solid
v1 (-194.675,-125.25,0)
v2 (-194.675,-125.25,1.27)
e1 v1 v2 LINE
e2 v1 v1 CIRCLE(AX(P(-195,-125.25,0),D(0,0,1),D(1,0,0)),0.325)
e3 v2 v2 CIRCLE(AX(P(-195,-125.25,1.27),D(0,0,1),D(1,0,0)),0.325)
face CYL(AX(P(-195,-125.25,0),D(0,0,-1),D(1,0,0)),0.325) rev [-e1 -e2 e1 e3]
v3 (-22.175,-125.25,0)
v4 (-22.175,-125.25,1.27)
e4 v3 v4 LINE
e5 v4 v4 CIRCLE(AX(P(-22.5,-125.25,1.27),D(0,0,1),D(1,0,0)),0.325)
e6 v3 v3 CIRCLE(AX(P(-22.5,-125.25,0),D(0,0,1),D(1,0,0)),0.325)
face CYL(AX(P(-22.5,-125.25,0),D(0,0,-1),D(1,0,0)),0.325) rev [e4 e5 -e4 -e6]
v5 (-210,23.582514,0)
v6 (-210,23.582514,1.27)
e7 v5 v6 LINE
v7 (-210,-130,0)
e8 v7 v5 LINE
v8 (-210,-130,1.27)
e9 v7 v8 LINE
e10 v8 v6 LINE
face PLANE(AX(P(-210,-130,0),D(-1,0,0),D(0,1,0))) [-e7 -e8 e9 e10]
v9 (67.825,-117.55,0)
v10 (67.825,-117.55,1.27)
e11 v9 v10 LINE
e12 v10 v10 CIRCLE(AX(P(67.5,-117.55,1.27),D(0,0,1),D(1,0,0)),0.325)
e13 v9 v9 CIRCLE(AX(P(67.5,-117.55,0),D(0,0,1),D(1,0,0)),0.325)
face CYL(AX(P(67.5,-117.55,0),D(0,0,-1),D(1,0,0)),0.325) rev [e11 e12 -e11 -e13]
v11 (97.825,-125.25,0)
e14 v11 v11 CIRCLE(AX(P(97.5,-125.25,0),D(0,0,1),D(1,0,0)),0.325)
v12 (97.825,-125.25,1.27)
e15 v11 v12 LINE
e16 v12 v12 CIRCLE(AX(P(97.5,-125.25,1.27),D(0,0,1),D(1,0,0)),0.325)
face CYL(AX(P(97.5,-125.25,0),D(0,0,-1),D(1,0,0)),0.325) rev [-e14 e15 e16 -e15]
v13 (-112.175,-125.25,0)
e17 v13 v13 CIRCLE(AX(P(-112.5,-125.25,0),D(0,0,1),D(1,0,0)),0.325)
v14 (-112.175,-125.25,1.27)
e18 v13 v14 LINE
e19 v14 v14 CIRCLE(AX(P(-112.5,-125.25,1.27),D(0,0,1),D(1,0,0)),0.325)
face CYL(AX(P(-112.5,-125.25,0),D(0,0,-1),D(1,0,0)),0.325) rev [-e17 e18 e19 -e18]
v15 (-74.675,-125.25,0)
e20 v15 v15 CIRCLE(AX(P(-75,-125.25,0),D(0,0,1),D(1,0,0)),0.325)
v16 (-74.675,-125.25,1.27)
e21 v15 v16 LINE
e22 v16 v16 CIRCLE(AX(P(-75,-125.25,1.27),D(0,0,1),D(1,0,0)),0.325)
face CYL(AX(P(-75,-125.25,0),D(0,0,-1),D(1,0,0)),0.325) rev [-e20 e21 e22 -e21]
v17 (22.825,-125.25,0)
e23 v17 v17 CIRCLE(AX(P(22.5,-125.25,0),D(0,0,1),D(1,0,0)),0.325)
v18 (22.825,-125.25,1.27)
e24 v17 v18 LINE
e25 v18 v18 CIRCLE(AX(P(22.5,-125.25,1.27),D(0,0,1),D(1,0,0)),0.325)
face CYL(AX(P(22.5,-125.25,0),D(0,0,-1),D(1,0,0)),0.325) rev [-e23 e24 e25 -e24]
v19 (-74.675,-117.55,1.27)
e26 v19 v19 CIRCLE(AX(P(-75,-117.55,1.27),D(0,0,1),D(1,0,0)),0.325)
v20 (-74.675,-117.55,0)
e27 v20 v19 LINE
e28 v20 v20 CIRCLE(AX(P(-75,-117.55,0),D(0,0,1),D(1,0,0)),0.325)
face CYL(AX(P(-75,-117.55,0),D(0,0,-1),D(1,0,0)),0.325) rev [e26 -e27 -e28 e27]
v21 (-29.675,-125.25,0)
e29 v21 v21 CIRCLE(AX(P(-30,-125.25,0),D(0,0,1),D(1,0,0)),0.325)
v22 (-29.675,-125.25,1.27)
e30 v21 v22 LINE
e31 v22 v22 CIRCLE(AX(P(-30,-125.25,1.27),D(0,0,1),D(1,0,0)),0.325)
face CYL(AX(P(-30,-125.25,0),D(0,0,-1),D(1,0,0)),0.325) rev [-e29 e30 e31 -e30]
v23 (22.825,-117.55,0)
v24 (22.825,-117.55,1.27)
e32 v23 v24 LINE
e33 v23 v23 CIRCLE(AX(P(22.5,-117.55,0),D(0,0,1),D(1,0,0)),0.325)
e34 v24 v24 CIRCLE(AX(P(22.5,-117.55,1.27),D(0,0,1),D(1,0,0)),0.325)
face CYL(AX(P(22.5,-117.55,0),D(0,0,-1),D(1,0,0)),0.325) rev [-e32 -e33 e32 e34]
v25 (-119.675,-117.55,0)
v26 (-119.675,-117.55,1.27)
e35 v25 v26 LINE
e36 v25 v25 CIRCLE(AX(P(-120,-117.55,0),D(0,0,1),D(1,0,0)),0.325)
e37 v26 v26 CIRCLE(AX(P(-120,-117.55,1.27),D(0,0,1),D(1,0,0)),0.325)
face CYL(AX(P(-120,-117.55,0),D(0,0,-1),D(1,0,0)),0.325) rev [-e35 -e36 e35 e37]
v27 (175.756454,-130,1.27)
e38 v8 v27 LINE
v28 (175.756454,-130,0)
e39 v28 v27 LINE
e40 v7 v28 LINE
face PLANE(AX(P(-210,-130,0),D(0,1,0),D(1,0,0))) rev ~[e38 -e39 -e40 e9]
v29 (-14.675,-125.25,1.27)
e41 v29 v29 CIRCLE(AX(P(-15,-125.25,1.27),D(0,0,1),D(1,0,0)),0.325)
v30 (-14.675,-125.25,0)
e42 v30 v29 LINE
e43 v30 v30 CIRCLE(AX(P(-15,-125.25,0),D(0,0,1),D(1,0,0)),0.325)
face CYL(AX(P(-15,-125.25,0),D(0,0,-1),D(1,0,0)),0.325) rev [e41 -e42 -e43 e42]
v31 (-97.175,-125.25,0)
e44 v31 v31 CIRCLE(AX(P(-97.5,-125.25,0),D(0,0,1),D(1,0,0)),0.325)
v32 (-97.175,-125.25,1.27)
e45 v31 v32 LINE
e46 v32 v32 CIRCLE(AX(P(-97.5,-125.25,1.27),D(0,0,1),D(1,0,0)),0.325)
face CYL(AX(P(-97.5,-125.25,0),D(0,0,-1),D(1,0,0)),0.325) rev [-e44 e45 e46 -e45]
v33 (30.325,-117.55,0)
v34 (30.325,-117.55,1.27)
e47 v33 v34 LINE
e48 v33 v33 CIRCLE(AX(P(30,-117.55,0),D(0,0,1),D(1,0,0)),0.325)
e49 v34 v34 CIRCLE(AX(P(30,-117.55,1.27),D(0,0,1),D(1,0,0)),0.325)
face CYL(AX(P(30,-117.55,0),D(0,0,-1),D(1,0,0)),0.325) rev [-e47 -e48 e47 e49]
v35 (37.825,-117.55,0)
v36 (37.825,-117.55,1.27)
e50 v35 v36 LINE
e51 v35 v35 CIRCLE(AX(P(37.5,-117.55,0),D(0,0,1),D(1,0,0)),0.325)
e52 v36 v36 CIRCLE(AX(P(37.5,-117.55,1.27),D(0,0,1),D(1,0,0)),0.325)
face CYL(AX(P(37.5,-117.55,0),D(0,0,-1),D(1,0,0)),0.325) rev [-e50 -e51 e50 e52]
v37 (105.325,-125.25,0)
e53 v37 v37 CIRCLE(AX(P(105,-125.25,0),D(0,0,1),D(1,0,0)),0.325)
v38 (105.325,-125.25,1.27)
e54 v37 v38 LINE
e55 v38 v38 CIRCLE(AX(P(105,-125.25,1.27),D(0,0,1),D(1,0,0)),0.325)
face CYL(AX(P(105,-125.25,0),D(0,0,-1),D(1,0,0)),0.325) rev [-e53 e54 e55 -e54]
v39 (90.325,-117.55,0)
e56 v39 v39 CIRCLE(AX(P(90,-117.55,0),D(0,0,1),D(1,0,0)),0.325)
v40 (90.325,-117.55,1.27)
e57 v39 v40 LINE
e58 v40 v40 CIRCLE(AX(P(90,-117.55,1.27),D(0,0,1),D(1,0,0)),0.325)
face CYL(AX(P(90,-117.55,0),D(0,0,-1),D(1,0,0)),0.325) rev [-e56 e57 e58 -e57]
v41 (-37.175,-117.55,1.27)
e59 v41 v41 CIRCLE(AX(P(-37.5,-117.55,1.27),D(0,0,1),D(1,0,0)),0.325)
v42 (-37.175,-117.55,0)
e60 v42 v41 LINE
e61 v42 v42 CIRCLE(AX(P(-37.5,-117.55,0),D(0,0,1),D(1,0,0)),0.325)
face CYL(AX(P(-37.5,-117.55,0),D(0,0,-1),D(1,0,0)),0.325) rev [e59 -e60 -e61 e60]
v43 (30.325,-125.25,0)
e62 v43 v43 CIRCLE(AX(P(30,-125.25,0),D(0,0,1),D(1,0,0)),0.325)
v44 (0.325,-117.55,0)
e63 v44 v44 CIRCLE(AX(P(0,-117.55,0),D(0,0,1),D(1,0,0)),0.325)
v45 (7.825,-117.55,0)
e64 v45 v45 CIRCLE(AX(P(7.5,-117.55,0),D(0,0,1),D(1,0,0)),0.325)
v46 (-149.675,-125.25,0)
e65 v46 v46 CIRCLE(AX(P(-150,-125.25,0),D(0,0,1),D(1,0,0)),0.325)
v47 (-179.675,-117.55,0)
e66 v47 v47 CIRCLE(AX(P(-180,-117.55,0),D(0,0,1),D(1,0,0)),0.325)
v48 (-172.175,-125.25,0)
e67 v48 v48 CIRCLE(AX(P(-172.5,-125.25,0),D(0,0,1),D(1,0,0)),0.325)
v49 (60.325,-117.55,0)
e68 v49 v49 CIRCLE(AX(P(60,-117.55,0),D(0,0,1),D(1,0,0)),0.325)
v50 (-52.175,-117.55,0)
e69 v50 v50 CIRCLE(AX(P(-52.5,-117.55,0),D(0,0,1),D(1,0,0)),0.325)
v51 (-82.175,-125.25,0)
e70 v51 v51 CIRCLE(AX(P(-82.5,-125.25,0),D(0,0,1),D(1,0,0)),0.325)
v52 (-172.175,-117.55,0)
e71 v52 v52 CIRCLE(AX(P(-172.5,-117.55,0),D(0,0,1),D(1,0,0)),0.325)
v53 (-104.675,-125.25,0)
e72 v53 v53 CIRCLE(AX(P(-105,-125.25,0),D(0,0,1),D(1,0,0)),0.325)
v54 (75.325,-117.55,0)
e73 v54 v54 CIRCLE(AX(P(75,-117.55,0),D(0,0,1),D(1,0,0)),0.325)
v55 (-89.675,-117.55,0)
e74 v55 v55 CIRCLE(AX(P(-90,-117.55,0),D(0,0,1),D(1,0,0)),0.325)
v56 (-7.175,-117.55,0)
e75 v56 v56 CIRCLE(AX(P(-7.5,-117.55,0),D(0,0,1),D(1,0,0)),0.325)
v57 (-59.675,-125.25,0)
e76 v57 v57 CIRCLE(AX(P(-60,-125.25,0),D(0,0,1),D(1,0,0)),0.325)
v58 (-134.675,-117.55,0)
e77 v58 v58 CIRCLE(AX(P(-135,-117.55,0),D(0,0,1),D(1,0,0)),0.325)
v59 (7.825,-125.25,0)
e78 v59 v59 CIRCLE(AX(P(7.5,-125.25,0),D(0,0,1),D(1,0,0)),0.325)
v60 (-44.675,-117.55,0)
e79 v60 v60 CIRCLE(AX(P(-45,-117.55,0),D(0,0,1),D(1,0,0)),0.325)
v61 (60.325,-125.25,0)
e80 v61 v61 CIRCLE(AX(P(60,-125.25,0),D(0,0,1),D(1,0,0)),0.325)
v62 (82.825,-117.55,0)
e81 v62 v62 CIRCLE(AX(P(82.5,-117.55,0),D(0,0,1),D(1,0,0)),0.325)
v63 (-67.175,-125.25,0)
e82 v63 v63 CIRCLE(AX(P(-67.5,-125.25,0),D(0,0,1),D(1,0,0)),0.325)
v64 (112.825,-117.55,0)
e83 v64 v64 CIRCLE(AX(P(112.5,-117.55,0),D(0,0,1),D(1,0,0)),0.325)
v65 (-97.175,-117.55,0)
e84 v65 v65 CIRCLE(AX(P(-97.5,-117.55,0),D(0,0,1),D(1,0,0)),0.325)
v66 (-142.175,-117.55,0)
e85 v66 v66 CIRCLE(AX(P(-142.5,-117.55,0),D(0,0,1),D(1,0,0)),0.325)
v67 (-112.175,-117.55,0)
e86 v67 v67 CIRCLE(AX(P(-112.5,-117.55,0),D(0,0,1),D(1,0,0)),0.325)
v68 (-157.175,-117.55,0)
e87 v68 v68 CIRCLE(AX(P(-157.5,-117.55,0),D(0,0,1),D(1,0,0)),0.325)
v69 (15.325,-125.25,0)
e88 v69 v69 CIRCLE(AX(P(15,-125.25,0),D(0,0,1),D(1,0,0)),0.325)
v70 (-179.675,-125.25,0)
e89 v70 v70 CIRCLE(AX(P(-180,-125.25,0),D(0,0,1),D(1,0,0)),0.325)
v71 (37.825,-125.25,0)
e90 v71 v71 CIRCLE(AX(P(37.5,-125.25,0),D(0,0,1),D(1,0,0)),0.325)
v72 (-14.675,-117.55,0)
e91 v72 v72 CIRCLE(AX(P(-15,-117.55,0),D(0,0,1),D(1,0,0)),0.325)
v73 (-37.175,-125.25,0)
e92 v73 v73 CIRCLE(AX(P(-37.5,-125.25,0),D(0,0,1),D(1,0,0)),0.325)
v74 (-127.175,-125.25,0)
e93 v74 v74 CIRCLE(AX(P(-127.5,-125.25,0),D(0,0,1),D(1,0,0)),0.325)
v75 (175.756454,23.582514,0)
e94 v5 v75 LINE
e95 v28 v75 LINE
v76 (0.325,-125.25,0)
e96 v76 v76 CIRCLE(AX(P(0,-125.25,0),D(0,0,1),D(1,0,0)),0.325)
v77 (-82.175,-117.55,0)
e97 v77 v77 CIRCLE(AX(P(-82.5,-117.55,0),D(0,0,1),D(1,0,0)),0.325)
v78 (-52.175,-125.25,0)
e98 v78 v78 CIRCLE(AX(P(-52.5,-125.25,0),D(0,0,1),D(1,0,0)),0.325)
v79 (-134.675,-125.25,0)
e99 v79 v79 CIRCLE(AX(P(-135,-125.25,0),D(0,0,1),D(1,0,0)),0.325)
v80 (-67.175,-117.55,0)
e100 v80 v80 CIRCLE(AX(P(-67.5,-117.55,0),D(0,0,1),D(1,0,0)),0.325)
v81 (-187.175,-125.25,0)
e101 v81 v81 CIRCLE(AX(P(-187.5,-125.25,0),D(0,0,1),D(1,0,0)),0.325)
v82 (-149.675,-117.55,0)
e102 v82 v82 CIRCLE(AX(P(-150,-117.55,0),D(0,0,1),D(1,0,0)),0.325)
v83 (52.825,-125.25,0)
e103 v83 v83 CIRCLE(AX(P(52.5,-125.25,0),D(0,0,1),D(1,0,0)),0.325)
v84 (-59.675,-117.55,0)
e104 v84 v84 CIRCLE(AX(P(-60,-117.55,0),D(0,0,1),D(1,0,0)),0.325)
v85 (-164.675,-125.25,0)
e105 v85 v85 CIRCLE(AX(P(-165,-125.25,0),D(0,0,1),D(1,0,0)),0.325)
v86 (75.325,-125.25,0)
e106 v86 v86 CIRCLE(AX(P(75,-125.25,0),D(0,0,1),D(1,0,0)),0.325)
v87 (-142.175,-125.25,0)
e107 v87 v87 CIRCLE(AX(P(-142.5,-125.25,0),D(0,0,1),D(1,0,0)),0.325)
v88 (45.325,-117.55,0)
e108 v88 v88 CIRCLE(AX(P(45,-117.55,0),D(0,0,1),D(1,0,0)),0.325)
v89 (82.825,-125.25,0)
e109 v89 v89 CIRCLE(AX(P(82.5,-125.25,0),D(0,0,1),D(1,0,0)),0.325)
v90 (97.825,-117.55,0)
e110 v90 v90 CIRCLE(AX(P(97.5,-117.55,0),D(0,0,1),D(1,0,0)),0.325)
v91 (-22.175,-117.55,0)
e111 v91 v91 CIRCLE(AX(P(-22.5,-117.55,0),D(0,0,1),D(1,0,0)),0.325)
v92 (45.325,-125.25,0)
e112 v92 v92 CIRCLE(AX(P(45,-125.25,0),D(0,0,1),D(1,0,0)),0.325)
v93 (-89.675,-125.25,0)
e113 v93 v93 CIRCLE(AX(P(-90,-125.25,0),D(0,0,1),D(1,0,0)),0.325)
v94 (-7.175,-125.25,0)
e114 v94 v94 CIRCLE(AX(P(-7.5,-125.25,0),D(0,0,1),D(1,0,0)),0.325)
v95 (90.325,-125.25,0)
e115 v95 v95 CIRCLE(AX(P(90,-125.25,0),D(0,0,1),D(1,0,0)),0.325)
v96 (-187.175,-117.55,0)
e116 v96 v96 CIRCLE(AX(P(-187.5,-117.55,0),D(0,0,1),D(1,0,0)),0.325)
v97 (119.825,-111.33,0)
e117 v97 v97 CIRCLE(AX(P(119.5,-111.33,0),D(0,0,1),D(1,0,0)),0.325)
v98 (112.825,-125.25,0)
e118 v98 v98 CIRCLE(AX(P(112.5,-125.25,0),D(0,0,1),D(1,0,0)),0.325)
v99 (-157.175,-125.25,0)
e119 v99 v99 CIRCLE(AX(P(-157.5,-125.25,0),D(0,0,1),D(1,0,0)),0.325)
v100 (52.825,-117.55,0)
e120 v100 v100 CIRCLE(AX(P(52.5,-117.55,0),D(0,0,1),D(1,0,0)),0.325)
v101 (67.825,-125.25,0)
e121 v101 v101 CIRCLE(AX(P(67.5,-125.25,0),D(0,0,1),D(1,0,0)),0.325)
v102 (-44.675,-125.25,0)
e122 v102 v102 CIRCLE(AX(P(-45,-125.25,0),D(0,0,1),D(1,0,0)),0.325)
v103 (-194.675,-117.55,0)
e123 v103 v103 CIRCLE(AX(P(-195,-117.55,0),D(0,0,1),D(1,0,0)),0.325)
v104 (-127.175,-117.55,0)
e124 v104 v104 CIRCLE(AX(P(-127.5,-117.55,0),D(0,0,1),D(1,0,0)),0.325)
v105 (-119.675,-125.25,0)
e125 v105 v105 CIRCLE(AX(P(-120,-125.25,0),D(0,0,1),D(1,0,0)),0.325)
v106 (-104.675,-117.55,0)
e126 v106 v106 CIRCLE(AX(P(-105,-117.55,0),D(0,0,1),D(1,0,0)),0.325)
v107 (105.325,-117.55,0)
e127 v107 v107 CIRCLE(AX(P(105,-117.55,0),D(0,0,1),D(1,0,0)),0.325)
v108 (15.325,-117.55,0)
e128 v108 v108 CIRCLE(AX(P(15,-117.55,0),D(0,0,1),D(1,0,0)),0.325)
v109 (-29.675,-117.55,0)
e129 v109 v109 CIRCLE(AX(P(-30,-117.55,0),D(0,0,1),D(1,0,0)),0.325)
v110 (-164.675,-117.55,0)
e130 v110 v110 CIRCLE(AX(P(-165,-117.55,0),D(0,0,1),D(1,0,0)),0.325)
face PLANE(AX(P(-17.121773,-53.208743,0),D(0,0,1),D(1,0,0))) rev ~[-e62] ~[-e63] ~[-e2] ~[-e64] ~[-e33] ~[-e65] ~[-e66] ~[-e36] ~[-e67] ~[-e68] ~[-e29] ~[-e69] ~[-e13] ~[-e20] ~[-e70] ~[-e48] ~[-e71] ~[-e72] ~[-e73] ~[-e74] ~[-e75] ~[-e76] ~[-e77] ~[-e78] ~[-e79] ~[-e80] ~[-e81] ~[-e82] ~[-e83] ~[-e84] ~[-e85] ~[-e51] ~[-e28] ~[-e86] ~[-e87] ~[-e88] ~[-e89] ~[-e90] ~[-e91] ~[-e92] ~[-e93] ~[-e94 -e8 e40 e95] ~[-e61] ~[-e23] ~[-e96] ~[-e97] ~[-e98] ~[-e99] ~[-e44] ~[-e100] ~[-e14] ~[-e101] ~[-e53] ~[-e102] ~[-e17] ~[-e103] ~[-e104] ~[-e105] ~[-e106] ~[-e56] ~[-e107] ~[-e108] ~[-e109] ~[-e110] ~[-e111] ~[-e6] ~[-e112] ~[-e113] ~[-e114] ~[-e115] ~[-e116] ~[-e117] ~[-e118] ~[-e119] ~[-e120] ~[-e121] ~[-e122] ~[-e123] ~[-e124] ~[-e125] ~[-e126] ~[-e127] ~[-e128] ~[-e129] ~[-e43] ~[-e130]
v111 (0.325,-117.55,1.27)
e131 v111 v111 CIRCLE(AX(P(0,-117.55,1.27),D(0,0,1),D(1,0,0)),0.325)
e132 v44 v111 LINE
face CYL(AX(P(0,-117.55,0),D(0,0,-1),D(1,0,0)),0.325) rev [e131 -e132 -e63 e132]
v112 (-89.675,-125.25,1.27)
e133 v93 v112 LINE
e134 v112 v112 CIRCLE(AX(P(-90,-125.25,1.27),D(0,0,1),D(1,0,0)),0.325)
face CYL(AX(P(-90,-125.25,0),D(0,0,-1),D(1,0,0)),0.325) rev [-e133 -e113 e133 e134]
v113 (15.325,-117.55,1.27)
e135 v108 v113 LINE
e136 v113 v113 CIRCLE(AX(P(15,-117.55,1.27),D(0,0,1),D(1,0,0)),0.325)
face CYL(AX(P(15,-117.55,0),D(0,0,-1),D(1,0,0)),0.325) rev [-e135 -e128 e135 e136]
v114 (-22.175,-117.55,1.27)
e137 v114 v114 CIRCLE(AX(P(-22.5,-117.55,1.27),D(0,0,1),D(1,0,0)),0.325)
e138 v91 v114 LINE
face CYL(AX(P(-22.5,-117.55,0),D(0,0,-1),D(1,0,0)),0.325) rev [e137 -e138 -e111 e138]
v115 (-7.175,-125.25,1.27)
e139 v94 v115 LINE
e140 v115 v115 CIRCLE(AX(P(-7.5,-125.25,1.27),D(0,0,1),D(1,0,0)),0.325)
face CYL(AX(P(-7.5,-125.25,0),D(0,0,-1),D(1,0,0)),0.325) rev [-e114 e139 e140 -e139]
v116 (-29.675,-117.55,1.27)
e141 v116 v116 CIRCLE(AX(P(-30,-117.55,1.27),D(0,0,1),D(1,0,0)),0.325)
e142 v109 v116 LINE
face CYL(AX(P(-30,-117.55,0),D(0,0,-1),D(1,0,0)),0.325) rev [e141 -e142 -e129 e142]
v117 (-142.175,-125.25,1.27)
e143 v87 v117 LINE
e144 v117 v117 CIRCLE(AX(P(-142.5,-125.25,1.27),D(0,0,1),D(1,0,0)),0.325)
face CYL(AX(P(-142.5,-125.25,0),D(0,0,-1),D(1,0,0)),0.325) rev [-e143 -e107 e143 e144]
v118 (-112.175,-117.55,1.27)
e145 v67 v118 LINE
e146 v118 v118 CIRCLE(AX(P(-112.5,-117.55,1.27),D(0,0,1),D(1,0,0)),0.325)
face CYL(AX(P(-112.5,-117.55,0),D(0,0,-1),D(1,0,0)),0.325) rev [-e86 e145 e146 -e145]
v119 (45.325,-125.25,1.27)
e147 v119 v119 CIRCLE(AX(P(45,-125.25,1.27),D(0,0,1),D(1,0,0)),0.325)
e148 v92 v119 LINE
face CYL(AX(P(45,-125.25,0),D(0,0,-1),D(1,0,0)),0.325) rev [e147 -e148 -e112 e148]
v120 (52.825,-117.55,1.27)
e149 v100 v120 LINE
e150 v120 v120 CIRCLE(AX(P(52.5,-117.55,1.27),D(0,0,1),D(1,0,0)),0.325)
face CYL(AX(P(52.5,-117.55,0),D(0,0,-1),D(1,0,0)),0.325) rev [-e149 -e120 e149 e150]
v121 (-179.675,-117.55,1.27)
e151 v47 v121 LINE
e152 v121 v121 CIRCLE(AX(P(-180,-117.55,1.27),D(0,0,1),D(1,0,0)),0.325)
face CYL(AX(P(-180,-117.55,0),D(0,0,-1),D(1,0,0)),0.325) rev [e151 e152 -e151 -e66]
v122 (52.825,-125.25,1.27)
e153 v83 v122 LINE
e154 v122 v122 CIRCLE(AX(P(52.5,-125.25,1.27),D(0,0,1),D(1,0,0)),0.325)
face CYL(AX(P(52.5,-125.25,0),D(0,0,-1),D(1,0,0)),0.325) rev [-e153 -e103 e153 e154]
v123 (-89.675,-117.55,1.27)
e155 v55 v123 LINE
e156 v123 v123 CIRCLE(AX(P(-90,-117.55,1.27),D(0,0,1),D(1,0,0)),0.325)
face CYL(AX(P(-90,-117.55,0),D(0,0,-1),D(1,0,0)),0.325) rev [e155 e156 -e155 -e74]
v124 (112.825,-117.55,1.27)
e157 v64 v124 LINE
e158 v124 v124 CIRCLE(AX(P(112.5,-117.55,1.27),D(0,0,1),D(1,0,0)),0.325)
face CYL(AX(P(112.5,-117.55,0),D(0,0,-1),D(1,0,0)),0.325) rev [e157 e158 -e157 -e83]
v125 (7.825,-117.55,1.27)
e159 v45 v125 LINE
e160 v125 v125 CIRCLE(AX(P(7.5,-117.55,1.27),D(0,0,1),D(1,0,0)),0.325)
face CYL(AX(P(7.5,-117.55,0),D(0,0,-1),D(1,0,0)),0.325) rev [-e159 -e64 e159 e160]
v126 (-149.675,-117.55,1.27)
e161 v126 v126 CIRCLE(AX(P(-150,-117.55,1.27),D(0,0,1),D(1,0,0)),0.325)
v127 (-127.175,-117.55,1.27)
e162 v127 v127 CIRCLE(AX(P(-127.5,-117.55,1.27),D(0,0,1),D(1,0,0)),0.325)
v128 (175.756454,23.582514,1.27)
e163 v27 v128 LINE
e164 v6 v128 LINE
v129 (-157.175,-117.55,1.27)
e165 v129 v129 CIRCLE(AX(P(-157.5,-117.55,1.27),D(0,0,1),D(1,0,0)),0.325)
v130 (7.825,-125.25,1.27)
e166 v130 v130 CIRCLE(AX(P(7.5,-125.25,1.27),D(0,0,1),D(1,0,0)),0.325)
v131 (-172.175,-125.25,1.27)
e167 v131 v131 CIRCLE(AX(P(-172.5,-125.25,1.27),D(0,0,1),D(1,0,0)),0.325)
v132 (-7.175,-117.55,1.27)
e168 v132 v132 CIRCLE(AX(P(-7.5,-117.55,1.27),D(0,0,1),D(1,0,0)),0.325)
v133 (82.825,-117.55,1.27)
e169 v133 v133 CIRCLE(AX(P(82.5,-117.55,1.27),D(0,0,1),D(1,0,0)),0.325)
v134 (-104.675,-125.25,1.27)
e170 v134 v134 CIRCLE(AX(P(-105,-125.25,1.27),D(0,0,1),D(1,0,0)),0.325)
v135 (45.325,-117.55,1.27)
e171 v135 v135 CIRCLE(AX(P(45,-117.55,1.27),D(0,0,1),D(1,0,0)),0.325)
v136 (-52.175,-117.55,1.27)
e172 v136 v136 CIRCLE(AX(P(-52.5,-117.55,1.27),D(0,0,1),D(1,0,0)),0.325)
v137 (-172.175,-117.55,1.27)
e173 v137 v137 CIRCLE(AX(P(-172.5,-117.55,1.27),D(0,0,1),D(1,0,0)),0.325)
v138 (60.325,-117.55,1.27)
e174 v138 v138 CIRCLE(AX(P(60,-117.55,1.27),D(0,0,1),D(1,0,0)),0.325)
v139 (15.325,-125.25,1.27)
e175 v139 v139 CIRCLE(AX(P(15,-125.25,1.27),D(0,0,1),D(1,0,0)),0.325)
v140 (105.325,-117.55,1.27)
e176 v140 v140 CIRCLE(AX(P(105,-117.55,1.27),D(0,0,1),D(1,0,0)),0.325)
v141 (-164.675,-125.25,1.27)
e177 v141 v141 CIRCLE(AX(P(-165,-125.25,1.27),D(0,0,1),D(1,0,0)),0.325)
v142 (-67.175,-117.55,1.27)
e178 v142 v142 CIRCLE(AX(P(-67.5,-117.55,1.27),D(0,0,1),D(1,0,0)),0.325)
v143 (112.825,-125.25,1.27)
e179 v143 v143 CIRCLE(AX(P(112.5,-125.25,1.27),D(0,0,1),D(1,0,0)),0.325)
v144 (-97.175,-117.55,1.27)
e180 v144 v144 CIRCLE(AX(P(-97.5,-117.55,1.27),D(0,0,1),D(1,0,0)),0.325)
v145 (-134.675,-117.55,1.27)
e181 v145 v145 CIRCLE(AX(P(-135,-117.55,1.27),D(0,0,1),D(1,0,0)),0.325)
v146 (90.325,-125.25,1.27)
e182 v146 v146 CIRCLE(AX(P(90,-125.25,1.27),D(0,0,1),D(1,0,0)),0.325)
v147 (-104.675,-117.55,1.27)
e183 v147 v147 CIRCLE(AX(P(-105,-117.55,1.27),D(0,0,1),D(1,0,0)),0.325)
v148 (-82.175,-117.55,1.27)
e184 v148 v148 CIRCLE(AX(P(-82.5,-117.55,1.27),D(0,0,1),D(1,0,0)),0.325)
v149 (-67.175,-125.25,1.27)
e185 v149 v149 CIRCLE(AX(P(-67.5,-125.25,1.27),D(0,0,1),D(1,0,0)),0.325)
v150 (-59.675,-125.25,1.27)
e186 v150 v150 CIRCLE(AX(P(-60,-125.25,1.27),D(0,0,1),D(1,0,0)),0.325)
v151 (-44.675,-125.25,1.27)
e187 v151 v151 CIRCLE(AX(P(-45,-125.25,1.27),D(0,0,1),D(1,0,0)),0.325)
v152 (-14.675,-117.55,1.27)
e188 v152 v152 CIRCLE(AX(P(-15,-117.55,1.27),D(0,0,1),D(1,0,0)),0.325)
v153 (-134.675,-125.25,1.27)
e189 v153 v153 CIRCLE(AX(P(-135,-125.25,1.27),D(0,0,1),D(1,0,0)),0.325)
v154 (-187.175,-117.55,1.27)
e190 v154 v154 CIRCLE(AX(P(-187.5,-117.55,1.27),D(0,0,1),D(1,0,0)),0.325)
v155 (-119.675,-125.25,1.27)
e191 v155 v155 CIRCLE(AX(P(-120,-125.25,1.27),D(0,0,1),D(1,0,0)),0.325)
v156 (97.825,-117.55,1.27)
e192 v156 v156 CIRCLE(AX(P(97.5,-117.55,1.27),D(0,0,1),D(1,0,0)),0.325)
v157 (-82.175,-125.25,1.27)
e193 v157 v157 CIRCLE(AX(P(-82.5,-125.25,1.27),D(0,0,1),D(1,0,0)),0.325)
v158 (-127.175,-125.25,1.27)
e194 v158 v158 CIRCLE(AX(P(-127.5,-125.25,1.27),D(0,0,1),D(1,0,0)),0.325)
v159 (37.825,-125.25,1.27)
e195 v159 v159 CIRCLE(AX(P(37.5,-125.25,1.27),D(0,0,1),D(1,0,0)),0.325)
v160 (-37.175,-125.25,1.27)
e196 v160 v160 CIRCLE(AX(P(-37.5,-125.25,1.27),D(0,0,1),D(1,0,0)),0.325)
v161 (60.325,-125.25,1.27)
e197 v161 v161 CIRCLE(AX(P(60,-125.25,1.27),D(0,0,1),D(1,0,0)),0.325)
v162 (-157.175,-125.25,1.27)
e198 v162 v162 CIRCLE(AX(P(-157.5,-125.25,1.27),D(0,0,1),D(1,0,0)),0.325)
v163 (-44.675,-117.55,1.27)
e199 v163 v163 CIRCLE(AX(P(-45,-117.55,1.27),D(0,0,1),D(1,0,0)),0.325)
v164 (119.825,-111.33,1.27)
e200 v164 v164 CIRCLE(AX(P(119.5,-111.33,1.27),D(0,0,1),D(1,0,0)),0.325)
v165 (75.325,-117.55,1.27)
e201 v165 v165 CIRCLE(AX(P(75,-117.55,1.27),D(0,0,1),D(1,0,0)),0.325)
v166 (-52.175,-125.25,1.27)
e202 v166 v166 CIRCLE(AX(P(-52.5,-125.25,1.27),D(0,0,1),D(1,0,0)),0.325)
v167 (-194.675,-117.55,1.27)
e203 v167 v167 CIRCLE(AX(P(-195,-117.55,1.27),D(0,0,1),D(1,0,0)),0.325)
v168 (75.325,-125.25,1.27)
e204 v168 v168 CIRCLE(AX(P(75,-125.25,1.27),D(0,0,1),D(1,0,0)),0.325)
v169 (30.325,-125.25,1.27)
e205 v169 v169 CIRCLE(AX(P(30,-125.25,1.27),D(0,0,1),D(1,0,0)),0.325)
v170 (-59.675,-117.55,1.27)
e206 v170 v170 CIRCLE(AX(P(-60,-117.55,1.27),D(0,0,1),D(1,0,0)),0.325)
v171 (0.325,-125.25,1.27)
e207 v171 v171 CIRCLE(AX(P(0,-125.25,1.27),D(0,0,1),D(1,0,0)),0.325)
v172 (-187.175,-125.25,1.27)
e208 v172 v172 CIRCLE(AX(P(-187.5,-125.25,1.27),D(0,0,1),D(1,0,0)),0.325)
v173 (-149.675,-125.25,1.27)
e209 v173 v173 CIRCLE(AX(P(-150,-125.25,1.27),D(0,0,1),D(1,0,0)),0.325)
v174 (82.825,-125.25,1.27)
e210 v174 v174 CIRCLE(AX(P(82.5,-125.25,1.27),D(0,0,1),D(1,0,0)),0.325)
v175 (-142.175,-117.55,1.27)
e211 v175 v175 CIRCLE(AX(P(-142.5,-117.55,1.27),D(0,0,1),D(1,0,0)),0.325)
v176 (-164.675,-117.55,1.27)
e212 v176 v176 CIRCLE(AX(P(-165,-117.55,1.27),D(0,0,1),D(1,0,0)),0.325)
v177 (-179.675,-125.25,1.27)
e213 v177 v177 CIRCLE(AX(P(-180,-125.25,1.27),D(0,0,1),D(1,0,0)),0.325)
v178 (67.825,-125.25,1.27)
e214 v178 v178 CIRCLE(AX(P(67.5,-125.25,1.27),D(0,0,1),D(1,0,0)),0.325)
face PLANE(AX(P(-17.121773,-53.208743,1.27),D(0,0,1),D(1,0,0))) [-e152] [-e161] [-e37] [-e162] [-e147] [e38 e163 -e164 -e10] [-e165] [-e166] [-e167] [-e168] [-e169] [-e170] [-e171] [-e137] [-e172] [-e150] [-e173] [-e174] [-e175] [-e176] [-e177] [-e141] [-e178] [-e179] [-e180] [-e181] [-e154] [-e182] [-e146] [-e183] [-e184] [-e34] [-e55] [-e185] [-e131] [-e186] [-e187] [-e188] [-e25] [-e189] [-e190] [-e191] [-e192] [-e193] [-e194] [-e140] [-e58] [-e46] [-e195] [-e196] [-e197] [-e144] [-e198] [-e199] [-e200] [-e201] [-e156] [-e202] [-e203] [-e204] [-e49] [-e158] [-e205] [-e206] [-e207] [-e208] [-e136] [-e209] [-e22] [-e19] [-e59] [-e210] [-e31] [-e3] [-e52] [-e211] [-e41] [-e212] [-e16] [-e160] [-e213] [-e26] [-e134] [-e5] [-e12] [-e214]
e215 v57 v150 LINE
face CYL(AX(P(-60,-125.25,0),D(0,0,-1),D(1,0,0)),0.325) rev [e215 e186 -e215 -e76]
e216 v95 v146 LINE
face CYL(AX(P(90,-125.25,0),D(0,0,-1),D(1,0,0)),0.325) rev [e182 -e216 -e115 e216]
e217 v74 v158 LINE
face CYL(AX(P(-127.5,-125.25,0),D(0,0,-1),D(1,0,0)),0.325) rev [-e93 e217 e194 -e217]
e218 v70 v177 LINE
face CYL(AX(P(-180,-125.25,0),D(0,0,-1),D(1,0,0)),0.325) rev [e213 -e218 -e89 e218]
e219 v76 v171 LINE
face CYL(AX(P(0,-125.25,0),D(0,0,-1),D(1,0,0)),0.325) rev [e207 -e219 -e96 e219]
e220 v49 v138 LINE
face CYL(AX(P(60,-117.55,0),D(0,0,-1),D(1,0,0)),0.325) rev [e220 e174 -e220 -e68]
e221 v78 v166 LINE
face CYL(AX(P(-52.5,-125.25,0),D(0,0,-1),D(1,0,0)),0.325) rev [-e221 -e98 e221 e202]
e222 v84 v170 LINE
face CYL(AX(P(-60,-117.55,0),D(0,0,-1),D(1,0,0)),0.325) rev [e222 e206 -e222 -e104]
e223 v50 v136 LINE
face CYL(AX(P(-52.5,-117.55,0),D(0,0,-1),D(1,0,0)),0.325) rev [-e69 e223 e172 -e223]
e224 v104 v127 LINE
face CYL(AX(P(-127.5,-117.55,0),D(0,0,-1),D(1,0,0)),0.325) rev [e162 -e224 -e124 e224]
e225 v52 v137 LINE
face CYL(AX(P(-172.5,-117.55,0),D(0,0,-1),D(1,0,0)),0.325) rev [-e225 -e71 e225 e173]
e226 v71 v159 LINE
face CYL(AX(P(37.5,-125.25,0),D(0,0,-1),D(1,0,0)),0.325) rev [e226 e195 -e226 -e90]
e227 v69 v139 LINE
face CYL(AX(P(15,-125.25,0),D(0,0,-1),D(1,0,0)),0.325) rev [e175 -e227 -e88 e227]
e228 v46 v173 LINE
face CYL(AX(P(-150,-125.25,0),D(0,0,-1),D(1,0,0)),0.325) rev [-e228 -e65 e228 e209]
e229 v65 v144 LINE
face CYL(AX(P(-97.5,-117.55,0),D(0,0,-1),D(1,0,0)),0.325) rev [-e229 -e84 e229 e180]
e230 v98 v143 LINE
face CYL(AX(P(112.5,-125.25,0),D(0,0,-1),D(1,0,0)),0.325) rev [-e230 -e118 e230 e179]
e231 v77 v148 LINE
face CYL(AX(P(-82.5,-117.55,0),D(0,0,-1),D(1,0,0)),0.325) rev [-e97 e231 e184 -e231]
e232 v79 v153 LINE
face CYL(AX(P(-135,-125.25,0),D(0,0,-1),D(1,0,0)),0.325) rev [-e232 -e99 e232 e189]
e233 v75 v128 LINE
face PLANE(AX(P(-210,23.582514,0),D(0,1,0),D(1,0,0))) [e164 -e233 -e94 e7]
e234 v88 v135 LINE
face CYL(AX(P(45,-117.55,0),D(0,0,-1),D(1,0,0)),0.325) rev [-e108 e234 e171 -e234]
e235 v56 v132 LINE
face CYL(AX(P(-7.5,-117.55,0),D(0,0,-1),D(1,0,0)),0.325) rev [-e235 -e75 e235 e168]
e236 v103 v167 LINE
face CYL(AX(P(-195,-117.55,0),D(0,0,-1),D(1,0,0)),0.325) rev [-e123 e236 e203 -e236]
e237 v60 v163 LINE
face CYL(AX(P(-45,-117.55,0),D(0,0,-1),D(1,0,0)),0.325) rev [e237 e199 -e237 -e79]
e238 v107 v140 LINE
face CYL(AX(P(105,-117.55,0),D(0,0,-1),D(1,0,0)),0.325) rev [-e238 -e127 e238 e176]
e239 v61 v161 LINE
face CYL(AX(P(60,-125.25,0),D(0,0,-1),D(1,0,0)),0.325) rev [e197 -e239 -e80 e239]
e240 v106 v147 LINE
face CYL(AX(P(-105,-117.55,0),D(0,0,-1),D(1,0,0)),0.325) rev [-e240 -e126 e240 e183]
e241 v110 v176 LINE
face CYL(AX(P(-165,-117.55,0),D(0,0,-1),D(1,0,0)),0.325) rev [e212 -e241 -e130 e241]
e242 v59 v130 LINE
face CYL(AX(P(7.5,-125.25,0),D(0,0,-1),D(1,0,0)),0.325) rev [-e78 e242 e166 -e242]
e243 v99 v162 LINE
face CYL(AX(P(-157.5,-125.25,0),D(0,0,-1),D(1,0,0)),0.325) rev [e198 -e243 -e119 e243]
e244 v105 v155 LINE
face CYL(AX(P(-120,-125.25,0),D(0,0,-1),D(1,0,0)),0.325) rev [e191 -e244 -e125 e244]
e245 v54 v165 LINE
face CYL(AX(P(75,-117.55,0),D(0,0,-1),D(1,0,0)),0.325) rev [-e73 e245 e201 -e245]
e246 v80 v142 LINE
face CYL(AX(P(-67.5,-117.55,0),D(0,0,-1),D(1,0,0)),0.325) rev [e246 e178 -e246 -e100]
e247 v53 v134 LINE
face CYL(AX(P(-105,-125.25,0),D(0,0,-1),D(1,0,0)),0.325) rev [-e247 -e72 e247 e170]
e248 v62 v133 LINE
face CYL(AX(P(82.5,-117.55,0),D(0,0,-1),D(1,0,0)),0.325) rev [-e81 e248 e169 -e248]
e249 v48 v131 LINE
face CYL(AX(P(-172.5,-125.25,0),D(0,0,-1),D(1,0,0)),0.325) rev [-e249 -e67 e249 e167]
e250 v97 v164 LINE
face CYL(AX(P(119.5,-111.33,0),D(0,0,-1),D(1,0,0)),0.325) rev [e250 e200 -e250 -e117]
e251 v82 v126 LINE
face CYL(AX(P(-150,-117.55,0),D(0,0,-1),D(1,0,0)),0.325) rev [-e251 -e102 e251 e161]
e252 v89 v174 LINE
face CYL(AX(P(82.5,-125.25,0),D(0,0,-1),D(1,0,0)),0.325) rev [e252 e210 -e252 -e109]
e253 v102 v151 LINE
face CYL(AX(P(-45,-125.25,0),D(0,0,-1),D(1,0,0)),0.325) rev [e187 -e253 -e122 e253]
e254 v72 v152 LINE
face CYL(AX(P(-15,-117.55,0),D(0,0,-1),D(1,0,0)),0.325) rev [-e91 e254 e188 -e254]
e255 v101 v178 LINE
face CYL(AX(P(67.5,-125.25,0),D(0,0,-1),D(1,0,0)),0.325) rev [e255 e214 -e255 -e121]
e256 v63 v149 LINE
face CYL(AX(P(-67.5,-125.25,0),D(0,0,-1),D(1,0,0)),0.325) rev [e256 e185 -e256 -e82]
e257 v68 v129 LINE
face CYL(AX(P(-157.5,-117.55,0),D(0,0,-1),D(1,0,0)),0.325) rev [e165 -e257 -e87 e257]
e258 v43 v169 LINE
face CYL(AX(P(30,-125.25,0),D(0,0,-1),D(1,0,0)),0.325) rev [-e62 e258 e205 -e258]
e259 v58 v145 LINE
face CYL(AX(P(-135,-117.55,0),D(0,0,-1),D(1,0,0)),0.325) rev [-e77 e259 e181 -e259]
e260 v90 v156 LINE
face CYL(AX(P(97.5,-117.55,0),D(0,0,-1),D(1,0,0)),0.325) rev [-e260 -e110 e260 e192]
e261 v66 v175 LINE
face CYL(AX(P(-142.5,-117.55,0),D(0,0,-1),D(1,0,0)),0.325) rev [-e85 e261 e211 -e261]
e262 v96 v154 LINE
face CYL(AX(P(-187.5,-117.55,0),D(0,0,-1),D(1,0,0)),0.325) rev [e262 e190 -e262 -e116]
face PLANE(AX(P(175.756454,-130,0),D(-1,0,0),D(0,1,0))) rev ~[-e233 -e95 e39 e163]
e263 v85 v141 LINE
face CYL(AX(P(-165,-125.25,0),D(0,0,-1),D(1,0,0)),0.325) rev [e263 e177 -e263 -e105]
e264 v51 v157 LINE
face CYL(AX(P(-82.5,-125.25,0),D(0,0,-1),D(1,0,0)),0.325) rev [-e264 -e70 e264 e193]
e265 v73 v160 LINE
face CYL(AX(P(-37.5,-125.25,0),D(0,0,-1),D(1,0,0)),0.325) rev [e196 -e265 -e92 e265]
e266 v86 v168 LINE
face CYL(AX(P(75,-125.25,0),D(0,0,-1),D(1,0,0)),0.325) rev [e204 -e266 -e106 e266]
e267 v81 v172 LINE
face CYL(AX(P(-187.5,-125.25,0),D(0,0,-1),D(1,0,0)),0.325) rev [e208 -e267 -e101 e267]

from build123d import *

# Parameters (mm, degrees)
F0_W     = 385.756454
F0_H     = 153.582514
F0_R     = 0.325
F1_DEPTH = 1.27


with BuildPart() as f1:
    # F0 (on Top) → F1 (new body)
    with BuildSketch(Plane.XY):
        with Locations((-17.121773, -53.208743)):
            Rectangle(F0_W, F0_H)
        with Locations((-195, -125.25)):
            Circle(F0_R, mode=Mode.SUBTRACT)
        with Locations((-187.5, -125.25)):
            Circle(F0_R, mode=Mode.SUBTRACT)
        with Locations((-180, -125.25)):
            Circle(F0_R, mode=Mode.SUBTRACT)
        with Locations((-172.5, -125.25)):
            Circle(F0_R, mode=Mode.SUBTRACT)
        with Locations((-165, -125.25)):
            Circle(F0_R, mode=Mode.SUBTRACT)
        with Locations((-195, -117.55)):
            Circle(F0_R, mode=Mode.SUBTRACT)
        with Locations((-187.5, -117.55)):
            Circle(F0_R, mode=Mode.SUBTRACT)
        with Locations((-180, -117.55)):
            Circle(F0_R, mode=Mode.SUBTRACT)
        with Locations((-172.5, -117.55)):
            Circle(F0_R, mode=Mode.SUBTRACT)
        with Locations((-165, -117.55)):
            Circle(F0_R, mode=Mode.SUBTRACT)
        with Locations((-157.5, -125.25)):
            Circle(F0_R, mode=Mode.SUBTRACT)
        with Locations((-150, -125.25)):
            Circle(F0_R, mode=Mode.SUBTRACT)
        with Locations((-142.5, -125.25)):
            Circle(F0_R, mode=Mode.SUBTRACT)
        with Locations((-135, -125.25)):
            Circle(F0_R, mode=Mode.SUBTRACT)
        with Locations((-127.5, -125.25)):
            Circle(F0_R, mode=Mode.SUBTRACT)
        with Locations((-120, -125.25)):
            Circle(F0_R, mode=Mode.SUBTRACT)
        with Locations((-157.5, -117.55)):
            Circle(F0_R, mode=Mode.SUBTRACT)
        with Locations((-150, -117.55)):
            Circle(F0_R, mode=Mode.SUBTRACT)
        with Locations((-142.5, -117.55)):
            Circle(F0_R, mode=Mode.SUBTRACT)
        with Locations((-135, -117.55)):
            Circle(F0_R, mode=Mode.SUBTRACT)
        with Locations((-127.5, -117.55)):
            Circle(F0_R, mode=Mode.SUBTRACT)
        with Locations((-120, -117.55)):
            Circle(F0_R, mode=Mode.SUBTRACT)
        with Locations((-112.5, -125.25)):
            Circle(F0_R, mode=Mode.SUBTRACT)
        with Locations((-105, -125.25)):
            Circle(F0_R, mode=Mode.SUBTRACT)
        with Locations((-97.5, -125.25)):
            Circle(F0_R, mode=Mode.SUBTRACT)
        with Locations((-90, -125.25)):
            Circle(F0_R, mode=Mode.SUBTRACT)
        with Locations((-82.5, -125.25)):
            Circle(F0_R, mode=Mode.SUBTRACT)
        with Locations((-75, -125.25)):
            Circle(F0_R, mode=Mode.SUBTRACT)
        with Locations((-67.5, -125.25)):
            Circle(F0_R, mode=Mode.SUBTRACT)
        with Locations((-112.5, -117.55)):
            Circle(F0_R, mode=Mode.SUBTRACT)
        with Locations((-105, -117.55)):
            Circle(F0_R, mode=Mode.SUBTRACT)
        with Locations((-97.5, -117.55)):
            Circle(F0_R, mode=Mode.SUBTRACT)
        with Locations((-90, -117.55)):
            Circle(F0_R, mode=Mode.SUBTRACT)
        with Locations((-82.5, -117.55)):
            Circle(F0_R, mode=Mode.SUBTRACT)
        with Locations((-75, -117.55)):
            Circle(F0_R, mode=Mode.SUBTRACT)
        with Locations((-67.5, -117.55)):
            Circle(F0_R, mode=Mode.SUBTRACT)
        with Locations((-60, -125.25)):
            Circle(F0_R, mode=Mode.SUBTRACT)
        with Locations((-52.5, -125.25)):
            Circle(F0_R, mode=Mode.SUBTRACT)
        with Locations((-45, -125.25)):
            Circle(F0_R, mode=Mode.SUBTRACT)
        with Locations((-37.5, -125.25)):
            Circle(F0_R, mode=Mode.SUBTRACT)
        with Locations((-30, -125.25)):
            Circle(F0_R, mode=Mode.SUBTRACT)
        with Locations((-22.5, -125.25)):
            Circle(F0_R, mode=Mode.SUBTRACT)
        with Locations((-60, -117.55)):
            Circle(F0_R, mode=Mode.SUBTRACT)
        with Locations((-52.5, -117.55)):
            Circle(F0_R, mode=Mode.SUBTRACT)
        with Locations((-45, -117.55)):
            Circle(F0_R, mode=Mode.SUBTRACT)
        with Locations((-37.5, -117.55)):
            Circle(F0_R, mode=Mode.SUBTRACT)
        with Locations((-30, -117.55)):
            Circle(F0_R, mode=Mode.SUBTRACT)
        with Locations((-22.5, -117.55)):
            Circle(F0_R, mode=Mode.SUBTRACT)
        with Locations((-15, -125.25)):
            Circle(F0_R, mode=Mode.SUBTRACT)
        with Locations((-7.5, -125.25)):
            Circle(F0_R, mode=Mode.SUBTRACT)
        with Locations((0, -125.25)):
            Circle(F0_R, mode=Mode.SUBTRACT)
        with Locations((7.5, -125.25)):
            Circle(F0_R, mode=Mode.SUBTRACT)
        with Locations((15, -125.25)):
            Circle(F0_R, mode=Mode.SUBTRACT)
        with Locations((22.5, -125.25)):
            Circle(F0_R, mode=Mode.SUBTRACT)
        with Locations((30, -125.25)):
            Circle(F0_R, mode=Mode.SUBTRACT)
        with Locations((-15, -117.55)):
            Circle(F0_R, mode=Mode.SUBTRACT)
        with Locations((-7.5, -117.55)):
            Circle(F0_R, mode=Mode.SUBTRACT)
        with Locations((0, -117.55)):
            Circle(F0_R, mode=Mode.SUBTRACT)
        with Locations((7.5, -117.55)):
            Circle(F0_R, mode=Mode.SUBTRACT)
        with Locations((15, -117.55)):
            Circle(F0_R, mode=Mode.SUBTRACT)
        with Locations((22.5, -117.55)):
            Circle(F0_R, mode=Mode.SUBTRACT)
        with Locations((30, -117.55)):
            Circle(F0_R, mode=Mode.SUBTRACT)
        with Locations((37.5, -125.25)):
            Circle(F0_R, mode=Mode.SUBTRACT)
        with Locations((45, -125.25)):
            Circle(F0_R, mode=Mode.SUBTRACT)
        with Locations((52.5, -125.25)):
            Circle(F0_R, mode=Mode.SUBTRACT)
        with Locations((60, -125.25)):
            Circle(F0_R, mode=Mode.SUBTRACT)
        with Locations((67.5, -125.25)):
            Circle(F0_R, mode=Mode.SUBTRACT)
        with Locations((75, -125.25)):
            Circle(F0_R, mode=Mode.SUBTRACT)
        with Locations((37.5, -117.55)):
            Circle(F0_R, mode=Mode.SUBTRACT)
        with Locations((45, -117.55)):
            Circle(F0_R, mode=Mode.SUBTRACT)
        with Locations((52.5, -117.55)):
            Circle(F0_R, mode=Mode.SUBTRACT)
        with Locations((60, -117.55)):
            Circle(F0_R, mode=Mode.SUBTRACT)
        with Locations((67.5, -117.55)):
            Circle(F0_R, mode=Mode.SUBTRACT)
        with Locations((75, -117.55)):
            Circle(F0_R, mode=Mode.SUBTRACT)
        with Locations((82.5, -125.25)):
            Circle(F0_R, mode=Mode.SUBTRACT)
        with Locations((90, -125.25)):
            Circle(F0_R, mode=Mode.SUBTRACT)
        with Locations((97.5, -125.25)):
            Circle(F0_R, mode=Mode.SUBTRACT)
        with Locations((105, -125.25)):
            Circle(F0_R, mode=Mode.SUBTRACT)
        with Locations((112.5, -125.25)):
            Circle(F0_R, mode=Mode.SUBTRACT)
        with Locations((82.5, -117.55)):
            Circle(F0_R, mode=Mode.SUBTRACT)
        with Locations((90, -117.55)):
            Circle(F0_R, mode=Mode.SUBTRACT)
        with Locations((97.5, -117.55)):
            Circle(F0_R, mode=Mode.SUBTRACT)
        with Locations((105, -117.55)):
            Circle(F0_R, mode=Mode.SUBTRACT)
        with Locations((112.5, -117.55)):
            Circle(F0_R, mode=Mode.SUBTRACT)
        with Locations((119.5, -111.33)):
            Circle(F0_R, mode=Mode.SUBTRACT)
    extrude(amount=F1_DEPTH)


solid = f1.part
